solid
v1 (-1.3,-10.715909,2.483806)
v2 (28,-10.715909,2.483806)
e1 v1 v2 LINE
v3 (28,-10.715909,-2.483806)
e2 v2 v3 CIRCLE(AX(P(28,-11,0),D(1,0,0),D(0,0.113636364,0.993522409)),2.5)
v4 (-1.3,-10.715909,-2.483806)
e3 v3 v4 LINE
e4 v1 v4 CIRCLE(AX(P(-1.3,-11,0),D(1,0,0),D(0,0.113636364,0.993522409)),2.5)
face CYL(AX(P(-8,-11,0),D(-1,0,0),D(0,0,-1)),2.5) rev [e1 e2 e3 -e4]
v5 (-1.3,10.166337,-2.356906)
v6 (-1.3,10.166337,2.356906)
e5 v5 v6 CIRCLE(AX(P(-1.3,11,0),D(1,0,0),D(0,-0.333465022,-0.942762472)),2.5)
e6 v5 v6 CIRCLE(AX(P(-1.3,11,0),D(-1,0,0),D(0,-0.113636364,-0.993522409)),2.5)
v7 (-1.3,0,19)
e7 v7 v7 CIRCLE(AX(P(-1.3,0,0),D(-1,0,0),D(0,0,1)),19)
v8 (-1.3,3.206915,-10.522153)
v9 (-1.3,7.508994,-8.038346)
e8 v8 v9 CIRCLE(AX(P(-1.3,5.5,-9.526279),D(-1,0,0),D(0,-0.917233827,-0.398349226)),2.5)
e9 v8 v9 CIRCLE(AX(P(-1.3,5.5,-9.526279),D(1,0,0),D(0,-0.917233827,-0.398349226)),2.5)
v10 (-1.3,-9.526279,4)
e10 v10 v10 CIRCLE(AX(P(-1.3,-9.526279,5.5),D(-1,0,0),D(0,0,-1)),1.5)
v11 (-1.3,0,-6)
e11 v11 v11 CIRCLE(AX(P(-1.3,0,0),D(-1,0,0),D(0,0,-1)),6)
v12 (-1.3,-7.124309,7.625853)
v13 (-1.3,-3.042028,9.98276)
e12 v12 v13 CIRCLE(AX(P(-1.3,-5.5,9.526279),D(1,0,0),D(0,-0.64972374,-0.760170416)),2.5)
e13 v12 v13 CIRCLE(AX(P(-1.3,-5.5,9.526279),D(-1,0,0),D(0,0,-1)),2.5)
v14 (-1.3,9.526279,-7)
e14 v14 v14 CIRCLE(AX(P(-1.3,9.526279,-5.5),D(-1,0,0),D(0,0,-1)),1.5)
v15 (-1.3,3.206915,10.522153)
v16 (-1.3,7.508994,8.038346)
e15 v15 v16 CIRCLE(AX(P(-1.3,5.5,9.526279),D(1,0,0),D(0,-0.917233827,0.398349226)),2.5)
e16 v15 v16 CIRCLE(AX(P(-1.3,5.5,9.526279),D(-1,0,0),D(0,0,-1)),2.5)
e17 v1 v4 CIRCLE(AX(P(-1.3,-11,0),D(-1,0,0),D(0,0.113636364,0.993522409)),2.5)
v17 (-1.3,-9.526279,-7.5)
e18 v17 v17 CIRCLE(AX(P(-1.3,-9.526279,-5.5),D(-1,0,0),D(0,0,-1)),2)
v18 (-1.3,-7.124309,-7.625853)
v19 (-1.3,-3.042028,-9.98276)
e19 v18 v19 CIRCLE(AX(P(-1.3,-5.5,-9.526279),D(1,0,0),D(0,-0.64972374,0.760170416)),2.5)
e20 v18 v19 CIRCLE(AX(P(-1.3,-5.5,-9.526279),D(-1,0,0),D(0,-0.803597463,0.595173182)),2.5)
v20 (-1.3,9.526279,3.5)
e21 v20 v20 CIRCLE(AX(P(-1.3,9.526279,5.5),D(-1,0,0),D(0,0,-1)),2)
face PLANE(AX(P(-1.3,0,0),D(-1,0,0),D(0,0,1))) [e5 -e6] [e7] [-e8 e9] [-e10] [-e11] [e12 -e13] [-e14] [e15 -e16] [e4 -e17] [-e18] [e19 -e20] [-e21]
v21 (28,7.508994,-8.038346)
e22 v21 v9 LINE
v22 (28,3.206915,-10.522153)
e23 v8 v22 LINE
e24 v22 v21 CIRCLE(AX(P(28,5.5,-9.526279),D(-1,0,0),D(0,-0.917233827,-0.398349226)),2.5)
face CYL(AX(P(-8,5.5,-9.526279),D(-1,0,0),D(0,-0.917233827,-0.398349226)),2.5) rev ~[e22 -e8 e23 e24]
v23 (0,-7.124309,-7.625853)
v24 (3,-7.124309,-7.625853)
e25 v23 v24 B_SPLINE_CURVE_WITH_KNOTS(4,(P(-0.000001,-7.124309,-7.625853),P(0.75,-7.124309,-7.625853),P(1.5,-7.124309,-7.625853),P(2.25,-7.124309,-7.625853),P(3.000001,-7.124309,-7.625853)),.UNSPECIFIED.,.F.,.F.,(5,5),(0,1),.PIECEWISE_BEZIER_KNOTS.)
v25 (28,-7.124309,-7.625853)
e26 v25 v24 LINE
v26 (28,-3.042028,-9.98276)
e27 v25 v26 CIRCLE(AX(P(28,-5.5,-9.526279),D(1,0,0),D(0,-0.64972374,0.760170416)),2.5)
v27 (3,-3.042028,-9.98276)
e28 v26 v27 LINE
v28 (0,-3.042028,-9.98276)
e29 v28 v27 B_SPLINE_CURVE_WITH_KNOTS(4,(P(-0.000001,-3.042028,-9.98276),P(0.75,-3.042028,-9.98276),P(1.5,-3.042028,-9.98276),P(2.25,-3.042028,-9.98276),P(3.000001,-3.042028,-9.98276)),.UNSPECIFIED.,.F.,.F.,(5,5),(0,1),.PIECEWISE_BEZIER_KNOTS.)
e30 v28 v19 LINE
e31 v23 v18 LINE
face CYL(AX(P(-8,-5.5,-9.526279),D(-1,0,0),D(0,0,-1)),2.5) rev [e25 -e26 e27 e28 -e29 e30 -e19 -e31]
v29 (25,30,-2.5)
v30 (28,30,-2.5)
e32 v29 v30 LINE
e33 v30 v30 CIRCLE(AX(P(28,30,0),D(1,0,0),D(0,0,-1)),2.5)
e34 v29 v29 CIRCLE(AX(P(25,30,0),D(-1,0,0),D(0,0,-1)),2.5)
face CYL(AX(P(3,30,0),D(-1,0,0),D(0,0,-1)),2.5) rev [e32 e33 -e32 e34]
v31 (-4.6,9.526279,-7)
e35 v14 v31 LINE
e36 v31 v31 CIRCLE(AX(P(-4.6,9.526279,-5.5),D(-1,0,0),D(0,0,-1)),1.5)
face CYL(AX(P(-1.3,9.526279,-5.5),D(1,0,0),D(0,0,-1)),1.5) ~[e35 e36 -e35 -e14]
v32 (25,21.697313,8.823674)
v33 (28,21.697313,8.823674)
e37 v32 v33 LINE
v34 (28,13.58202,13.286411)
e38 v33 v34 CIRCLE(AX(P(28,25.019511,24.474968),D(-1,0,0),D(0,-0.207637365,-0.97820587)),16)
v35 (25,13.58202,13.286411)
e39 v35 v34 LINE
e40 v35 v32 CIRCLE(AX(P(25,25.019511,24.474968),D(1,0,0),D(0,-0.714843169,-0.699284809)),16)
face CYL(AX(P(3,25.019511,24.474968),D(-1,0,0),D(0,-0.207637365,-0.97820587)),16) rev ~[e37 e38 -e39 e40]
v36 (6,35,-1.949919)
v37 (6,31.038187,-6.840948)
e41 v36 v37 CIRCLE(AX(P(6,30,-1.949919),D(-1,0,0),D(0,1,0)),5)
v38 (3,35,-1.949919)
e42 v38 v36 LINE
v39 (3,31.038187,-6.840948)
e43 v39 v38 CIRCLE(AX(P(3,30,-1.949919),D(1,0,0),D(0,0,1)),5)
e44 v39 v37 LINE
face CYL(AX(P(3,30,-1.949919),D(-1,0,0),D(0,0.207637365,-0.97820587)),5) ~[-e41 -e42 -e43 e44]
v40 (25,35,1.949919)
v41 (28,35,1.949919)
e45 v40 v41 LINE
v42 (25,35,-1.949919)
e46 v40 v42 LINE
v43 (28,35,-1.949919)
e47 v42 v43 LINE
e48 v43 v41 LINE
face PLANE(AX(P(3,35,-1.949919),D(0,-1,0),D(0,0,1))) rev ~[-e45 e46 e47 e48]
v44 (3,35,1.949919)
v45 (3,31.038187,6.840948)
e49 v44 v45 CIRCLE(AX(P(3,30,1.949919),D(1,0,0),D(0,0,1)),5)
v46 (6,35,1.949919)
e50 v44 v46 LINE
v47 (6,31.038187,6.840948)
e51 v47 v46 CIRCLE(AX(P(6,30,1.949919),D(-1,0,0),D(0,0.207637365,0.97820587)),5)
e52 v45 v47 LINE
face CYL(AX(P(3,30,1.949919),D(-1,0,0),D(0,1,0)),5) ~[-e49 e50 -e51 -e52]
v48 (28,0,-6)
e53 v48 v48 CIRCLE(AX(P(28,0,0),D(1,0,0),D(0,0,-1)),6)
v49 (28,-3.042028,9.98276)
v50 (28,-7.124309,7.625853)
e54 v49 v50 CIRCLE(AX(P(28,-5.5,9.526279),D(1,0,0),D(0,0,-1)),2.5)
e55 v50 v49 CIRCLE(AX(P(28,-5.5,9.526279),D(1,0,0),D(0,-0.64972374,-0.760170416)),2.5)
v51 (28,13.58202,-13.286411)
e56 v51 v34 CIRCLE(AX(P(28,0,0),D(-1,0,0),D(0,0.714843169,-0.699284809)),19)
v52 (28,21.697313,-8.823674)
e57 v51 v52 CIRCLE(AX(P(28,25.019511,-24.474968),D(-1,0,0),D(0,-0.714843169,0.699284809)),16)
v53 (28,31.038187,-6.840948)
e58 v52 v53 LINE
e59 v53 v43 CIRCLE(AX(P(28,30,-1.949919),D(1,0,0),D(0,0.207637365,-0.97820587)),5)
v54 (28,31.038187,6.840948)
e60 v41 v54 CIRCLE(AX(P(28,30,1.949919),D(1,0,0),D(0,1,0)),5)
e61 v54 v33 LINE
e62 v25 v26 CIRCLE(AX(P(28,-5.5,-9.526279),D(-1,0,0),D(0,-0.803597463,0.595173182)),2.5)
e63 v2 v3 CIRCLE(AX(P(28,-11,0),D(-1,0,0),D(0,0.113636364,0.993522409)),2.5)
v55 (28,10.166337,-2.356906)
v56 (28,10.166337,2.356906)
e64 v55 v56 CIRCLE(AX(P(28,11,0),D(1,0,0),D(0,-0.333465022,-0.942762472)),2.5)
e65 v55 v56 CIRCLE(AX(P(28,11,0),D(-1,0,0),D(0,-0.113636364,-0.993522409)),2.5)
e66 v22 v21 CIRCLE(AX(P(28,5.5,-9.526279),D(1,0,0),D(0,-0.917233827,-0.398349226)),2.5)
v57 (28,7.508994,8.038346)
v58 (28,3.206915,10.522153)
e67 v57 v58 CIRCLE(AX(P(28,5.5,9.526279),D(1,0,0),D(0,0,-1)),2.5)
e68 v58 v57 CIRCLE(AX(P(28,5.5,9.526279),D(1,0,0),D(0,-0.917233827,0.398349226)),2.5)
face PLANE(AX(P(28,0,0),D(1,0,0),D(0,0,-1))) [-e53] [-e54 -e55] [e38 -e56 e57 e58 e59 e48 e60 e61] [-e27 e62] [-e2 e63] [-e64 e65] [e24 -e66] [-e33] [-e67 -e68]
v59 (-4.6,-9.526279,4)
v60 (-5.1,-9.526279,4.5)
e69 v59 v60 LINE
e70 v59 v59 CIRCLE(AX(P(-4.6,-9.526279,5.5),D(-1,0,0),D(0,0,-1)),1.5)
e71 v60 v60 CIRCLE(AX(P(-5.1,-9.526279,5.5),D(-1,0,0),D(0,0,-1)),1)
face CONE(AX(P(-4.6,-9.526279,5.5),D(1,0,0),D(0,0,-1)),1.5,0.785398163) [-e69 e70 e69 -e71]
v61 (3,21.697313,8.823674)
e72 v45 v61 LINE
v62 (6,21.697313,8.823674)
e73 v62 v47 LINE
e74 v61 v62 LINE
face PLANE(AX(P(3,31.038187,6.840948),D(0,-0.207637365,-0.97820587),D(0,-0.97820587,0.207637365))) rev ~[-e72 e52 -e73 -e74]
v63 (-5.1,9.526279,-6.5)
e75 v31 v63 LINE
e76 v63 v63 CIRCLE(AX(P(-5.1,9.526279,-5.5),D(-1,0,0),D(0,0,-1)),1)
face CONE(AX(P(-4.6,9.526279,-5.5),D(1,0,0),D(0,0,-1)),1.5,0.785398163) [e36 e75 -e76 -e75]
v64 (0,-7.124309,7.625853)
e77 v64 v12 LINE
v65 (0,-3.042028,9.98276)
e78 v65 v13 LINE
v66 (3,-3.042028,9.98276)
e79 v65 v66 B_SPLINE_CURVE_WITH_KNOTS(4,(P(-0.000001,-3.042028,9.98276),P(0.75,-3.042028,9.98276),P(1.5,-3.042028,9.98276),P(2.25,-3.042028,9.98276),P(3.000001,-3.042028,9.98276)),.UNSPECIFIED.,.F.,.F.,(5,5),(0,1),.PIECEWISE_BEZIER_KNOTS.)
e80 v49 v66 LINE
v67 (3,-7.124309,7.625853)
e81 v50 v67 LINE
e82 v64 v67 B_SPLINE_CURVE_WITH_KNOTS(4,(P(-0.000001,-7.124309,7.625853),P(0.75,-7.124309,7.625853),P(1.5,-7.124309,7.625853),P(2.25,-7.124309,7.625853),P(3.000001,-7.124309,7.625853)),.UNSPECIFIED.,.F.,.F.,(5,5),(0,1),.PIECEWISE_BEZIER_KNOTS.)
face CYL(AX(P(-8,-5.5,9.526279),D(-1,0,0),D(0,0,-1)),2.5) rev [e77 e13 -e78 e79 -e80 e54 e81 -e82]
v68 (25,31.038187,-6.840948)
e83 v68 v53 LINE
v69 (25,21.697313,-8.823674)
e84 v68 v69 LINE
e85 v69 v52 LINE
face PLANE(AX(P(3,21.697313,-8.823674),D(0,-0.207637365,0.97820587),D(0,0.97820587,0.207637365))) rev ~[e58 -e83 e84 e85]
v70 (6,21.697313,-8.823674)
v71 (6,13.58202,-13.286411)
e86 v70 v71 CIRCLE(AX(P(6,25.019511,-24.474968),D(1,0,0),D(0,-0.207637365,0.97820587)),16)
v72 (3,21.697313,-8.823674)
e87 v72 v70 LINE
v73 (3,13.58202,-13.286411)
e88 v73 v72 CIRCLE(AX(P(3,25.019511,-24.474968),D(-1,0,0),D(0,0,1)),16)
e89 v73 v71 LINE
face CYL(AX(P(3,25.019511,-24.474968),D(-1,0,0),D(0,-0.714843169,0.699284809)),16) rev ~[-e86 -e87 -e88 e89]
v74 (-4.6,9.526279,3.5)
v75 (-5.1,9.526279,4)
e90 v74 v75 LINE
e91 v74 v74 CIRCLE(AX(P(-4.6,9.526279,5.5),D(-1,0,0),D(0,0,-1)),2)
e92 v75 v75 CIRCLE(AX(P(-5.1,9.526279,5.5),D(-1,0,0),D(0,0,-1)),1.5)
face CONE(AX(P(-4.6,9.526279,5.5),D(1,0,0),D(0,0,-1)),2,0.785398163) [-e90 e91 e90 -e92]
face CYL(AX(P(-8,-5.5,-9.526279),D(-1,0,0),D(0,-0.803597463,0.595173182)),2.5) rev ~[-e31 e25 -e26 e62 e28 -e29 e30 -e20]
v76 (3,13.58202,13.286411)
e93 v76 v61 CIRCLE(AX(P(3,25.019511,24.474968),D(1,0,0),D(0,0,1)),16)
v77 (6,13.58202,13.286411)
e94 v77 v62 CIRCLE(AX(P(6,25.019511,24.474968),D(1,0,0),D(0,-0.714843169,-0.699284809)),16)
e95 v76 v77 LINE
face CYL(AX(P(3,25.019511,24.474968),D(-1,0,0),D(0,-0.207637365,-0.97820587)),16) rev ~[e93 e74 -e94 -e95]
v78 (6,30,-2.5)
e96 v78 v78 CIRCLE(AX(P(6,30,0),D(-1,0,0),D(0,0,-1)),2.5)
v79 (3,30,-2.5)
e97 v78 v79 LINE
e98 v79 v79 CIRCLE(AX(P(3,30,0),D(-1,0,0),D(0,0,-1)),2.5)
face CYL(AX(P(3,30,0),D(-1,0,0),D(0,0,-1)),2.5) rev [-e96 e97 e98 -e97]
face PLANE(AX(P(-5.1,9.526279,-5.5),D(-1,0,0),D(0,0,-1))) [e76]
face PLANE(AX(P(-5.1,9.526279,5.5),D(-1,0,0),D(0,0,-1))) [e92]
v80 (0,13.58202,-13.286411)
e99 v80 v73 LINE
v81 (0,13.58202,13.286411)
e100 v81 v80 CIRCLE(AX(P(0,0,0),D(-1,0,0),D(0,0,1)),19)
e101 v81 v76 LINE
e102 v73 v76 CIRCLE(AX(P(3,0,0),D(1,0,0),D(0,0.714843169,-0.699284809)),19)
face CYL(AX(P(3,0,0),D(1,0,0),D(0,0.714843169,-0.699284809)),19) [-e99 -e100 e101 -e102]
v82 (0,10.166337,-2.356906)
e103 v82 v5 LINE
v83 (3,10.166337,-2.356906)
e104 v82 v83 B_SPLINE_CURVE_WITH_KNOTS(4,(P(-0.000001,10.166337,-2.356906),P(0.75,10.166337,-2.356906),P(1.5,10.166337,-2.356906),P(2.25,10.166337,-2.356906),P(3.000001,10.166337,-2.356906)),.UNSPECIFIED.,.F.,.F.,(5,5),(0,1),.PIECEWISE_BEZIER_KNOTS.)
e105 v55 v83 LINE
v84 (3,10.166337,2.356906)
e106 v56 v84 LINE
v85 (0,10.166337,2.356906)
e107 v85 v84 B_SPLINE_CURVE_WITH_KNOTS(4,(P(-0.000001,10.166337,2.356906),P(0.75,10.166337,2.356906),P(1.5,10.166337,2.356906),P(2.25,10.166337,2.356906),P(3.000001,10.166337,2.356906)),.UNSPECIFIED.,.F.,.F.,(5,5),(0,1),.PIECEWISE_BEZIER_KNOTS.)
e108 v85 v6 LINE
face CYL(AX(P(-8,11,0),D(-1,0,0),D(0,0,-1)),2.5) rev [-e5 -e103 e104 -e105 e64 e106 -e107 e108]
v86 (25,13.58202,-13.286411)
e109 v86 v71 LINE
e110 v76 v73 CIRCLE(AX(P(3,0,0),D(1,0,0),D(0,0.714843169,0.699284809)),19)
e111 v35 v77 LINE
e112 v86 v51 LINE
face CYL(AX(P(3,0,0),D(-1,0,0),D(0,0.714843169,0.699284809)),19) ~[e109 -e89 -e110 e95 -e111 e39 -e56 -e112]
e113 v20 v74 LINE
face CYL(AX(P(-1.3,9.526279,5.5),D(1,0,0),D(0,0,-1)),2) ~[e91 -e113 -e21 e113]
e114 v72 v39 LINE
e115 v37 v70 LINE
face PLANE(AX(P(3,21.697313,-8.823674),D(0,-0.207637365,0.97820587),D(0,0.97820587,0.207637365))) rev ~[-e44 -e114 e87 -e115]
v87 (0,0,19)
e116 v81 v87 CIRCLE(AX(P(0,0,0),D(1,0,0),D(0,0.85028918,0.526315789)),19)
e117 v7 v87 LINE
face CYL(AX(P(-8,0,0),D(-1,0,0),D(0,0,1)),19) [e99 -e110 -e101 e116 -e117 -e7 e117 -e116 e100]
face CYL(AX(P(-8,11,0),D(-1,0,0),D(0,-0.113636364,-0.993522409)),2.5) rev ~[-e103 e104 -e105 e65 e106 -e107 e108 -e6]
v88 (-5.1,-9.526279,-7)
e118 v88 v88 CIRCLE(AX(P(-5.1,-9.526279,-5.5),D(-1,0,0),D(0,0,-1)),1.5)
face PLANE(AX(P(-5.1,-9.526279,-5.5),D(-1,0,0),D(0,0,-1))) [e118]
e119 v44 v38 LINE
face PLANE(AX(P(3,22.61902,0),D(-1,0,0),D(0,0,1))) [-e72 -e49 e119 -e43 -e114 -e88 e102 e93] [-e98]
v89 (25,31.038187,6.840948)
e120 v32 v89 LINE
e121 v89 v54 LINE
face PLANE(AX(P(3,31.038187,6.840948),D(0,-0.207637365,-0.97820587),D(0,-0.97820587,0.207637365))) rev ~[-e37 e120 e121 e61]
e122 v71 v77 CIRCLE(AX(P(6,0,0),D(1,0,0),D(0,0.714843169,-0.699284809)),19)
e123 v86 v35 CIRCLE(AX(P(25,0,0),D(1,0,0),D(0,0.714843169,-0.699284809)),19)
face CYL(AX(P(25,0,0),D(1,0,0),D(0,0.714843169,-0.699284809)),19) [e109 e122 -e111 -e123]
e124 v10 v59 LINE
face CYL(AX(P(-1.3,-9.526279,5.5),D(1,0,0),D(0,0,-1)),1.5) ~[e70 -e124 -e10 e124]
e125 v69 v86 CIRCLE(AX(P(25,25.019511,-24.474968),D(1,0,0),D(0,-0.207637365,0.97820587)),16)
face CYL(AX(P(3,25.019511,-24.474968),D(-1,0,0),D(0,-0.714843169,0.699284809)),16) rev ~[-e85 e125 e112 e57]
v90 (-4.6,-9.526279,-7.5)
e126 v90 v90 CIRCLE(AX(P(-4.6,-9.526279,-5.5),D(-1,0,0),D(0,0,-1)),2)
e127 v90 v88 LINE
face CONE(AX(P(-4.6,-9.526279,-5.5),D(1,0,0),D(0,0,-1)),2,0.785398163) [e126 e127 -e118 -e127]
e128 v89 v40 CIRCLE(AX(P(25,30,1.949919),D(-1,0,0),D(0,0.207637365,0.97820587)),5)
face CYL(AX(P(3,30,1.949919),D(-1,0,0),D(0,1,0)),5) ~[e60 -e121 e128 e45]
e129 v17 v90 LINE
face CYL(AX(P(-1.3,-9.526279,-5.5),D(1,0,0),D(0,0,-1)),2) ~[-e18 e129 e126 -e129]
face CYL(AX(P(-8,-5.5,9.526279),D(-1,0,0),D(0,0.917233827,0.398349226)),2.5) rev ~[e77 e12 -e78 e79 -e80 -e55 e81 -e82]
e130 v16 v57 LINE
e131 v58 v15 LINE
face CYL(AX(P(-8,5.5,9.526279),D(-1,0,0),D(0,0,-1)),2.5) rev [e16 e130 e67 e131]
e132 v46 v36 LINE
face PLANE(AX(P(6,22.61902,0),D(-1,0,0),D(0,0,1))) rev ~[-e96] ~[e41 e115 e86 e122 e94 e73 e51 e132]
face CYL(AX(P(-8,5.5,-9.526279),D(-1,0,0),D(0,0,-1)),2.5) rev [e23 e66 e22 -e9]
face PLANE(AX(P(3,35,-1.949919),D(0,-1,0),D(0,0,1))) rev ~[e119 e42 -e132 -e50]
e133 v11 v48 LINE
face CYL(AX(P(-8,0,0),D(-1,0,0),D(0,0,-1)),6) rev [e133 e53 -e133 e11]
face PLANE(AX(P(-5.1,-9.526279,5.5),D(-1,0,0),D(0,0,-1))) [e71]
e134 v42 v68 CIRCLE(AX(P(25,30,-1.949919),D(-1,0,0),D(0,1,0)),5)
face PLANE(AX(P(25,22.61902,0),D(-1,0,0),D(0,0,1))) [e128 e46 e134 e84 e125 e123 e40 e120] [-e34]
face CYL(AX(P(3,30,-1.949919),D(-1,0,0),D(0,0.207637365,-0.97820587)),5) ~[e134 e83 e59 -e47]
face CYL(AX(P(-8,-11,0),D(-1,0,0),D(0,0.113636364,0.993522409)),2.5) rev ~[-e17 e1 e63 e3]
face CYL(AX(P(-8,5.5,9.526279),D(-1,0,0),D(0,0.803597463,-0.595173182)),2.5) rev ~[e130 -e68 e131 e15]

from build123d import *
from build123d.topology import SkipClean

# Parameters (mm, degrees)
SKETCH_1_R          = 19
SKETCH_1_R_2        = 2
SKETCH_1_R_3        = 11
EXTRUDE_1_DEPTH     = 3
EXTRUDE_START       = -3
EXTRUDE_2_DEPTH     = 3
FILLET_1_R          = 3
SKETCH_5_R          = 2.5
EXTRUDE_3_DEPTH     = 3
FILLET_2_R          = 16
FILLET_3_R          = 5
EXTRUDE_START_2     = 8
SKETCH_8_R          = 19
SKETCH_8_R_2        = 2
EXTRUDE_5_DEPTH     = 8
SKETCH_9_R          = 2
SKETCH_9_R_2        = 2.5
EXTRUDE_6_DEPTH     = 25
CUT_EXTRUDE_START   = -19
CUT_EXTRUDE_1_DEPTH = 19
EXTRUDE_START_3     = -36
SKETCH_12_R         = 19
SKETCH_12_R_2       = 11
EXTRUDE_7_DEPTH     = 36
SKETCH_13_R         = 6
EXTRUDE_8_DEPTH     = 36
CUT_EXTRUDE_START_2 = -36
SKETCH_14_R         = 2.5
CUT_EXTRUDE_2_DEPTH = 36
SKETCH_15_R         = 28.71288773
CUT_EXTRUDE_3_DEPTH = 6.7
SKETCH_17_R         = 2
SKETCH_17_R_2       = 1.5
EXTRUDE_9_DEPTH     = 3.8
CHAMFER_2_SIZE      = 0.5
CUT_EXTRUDE_START_3 = -3
CUT_EXTRUDE_4_DEPTH = 3


with BuildPart() as part:
    # 草图1 → 凸台-拉伸1 (new body)
    with BuildSketch(Plane(origin=(0, 0, 0), x_dir=(0, 0, -1), z_dir=(1, 0, 0))):
        Circle(SKETCH_1_R)
        with Locations((0, -15)):
            Circle(SKETCH_1_R_2, mode=Mode.SUBTRACT)
        with Locations((0, 13.5)):
            Circle(SKETCH_1_R_2, mode=Mode.SUBTRACT)
        with Locations((11.691342951, -6.75)):
            Circle(SKETCH_1_R_2, mode=Mode.SUBTRACT)
        with Locations((-12.990381057, 7.5)):
            Circle(SKETCH_1_R_2, mode=Mode.SUBTRACT)
        with Locations((-11.691342951, -6.75)):
            Circle(SKETCH_1_R_2, mode=Mode.SUBTRACT)
        with Locations((12.990381057, 7.5)):
            Circle(SKETCH_1_R_2, mode=Mode.SUBTRACT)
        Circle(SKETCH_1_R_3, mode=Mode.SUBTRACT)
    extrude(amount=EXTRUDE_1_DEPTH)

    # 草图3 → 凸台-拉伸2 (add)
    with BuildSketch(Plane(origin=(3, 0, 0), x_dir=(0, 0, -1), z_dir=(1, 0, 0)).offset(EXTRUDE_START)):
        with BuildLine():
            ThreePointArc((-2.795361016, 10.638888889), (0, 9.5), (2.795361016, 10.638888889))
            ThreePointArc((2.795361016, 10.638888889), (0, 11), (-2.795361016, 10.638888889))
        make_face()
        with BuildLine():
            ThreePointArc((10.611228554, -2.898590792), (8.227241336, -4.75), (7.815867538, -7.740298097))
            ThreePointArc((7.815867538, -7.740298097), (9.526279442, -5.5), (10.611228554, -2.898590792))
        make_face()
        with BuildLine():
            ThreePointArc((-7.815867538, -7.740298097), (-8.227241336, -4.75), (-10.611228554, -2.898590792))
            ThreePointArc((-10.611228554, -2.898590792), (-9.526279442, -5.5), (-7.815867538, -7.740298097))
        make_face()
    extrude(amount=EXTRUDE_2_DEPTH)

    # 圆角1
    fillet_1_edges = [part.edges().sort_by_distance(p)[0] for p in [
        (1.5, 10.638888889, 2.795361016),
        (1.5, 10.638888889, -2.795361016),
        (1.5, -2.898590792, -10.611228554),
        (1.5, -7.740298097, -7.815867538),
        (1.5, -7.740298097, 7.815867538),
        (1.5, -2.898590792, 10.611228554),
    ]]
    fillet(fillet_1_edges, radius=FILLET_1_R)

    # 草图5 → 凸台-拉伸3 (add)
    with BuildSketch(Plane(origin=(3, 0, 0), x_dir=(0, 0, -1), z_dir=(1, 0, 0)).offset(EXTRUDE_START)):
        with BuildLine():
            Line((-6, 35), (-10, 16.155494421))
            ThreePointArc((-10, 16.155494421), (0, 19), (10, 16.155494421))
            Line((10, 16.155494421), (6, 35))
            Line((6, 35), (-6, 35))
        make_face()
        with Locations((0, 30)):
            Circle(SKETCH_5_R, mode=Mode.SUBTRACT)
    extrude(amount=EXTRUDE_3_DEPTH)

    # 圆角2
    fillet_2_edges = [part.edges().sort_by_distance(p)[0] for p in [
        (1.5, 16.155494421, 10),
        (1.5, 16.155494421, -10),
    ]]
    fillet(fillet_2_edges, radius=FILLET_2_R)

    # 圆角3
    fillet_3_edges = [part.edges().sort_by_distance(p)[0] for p in [
        (1.5, 35, -6),
        (1.5, 35, 6),
    ]]
    fillet(fillet_3_edges, radius=FILLET_3_R)

    # 草图8 → 凸台-拉伸5 (add)
    with BuildSketch(Plane.ZY.offset(EXTRUDE_START_2)):
        Circle(SKETCH_8_R)
        with Locations((0, -15)):
            Circle(SKETCH_8_R_2, mode=Mode.SUBTRACT)
        with Locations((-11.691342951, -6.75)):
            Circle(SKETCH_8_R_2, mode=Mode.SUBTRACT)
        with Locations((11.691342951, -6.75)):
            Circle(SKETCH_8_R_2, mode=Mode.SUBTRACT)
        with Locations((12.990381057, 7.5)):
            Circle(SKETCH_8_R_2, mode=Mode.SUBTRACT)
        with Locations((0, 13.5)):
            Circle(SKETCH_8_R_2, mode=Mode.SUBTRACT)
        with Locations((-12.990381057, 7.5)):
            Circle(SKETCH_8_R_2, mode=Mode.SUBTRACT)
        with BuildLine():
            ThreePointArc((9.557371648, -3.366781639), (10.505068504, -2.412656367), (10.940728111, -1.140380819))
            ThreePointArc((10.940728111, -1.140380819), (9.526279442, 5.5), (4.482765296, 10.045138889))
            ThreePointArc((4.482765296, 10.045138889), (3.163112547, 10.303984377), (1.862967396, 9.96031746))
            ThreePointArc((1.862967396, 9.96031746), (0, 9.5), (-1.862967396, 9.96031746))
            ThreePointArc((-1.862967396, 9.96031746), (-3.163112547, 10.303984377), (-4.482765296, 10.045138889))
            ThreePointArc((-4.482765296, 10.045138889), (-9.526279442, 5.5), (-10.940728111, -1.140380819))
            ThreePointArc((-10.940728111, -1.140380819), (-10.505068504, -2.412656367), (-9.557371648, -3.366781639))
            ThreePointArc((-9.557371648, -3.366781639), (-8.227241336, -4.75), (-7.694404252, -6.593535821))
            ThreePointArc((-7.694404252, -6.593535821), (-7.341955957, -7.89132801), (-6.457962814, -8.90475807))
            ThreePointArc((-6.457962814, -8.90475807), (0, -11), (6.457962814, -8.90475807))
            ThreePointArc((6.457962814, -8.90475807), (7.341955957, -7.89132801), (7.694404252, -6.593535821))
            ThreePointArc((7.694404252, -6.593535821), (8.227241336, -4.75), (9.557371648, -3.366781639))
        make_face(mode=Mode.SUBTRACT)
    extrude(amount=-EXTRUDE_5_DEPTH)

    # 草图9 → 凸台-拉伸6 (add)
    with BuildSketch(Plane(origin=(3, 0, 0), x_dir=(0, 0, -1), z_dir=(1, 0, 0))):
        with BuildLine():
            Line((8.823674386, 21.697313072), (6.840948182, 31.038186825))
            ThreePointArc((6.840948182, 31.038186825), (5.097065624, 33.885288543), (1.94991883, 35))
            Line((1.94991883, 35), (-1.94991883, 35))
            ThreePointArc((-1.94991883, 35), (-5.097065624, 33.885288543), (-6.840948182, 31.038186825))
            Line((-6.840948182, 31.038186825), (-8.823674386, 21.697313072))
            ThreePointArc((-8.823674386, 21.697313072), (-10.455022048, 17.309705025), (-13.286411369, 13.582020209))
            ThreePointArc((-13.286411369, 13.582020209), (0, -19), (13.286411369, 13.582020209))
            ThreePointArc((13.286411369, 13.582020209), (10.455022048, 17.309705025), (8.823674386, 21.697313072))
        make_face()
        with Locations(Location((0, -15, 0), (0, 0, 180))):
            Circle(SKETCH_9_R, mode=Mode.SUBTRACT)
        with Locations(Location((11.691342951, -6.75, 0), (0, 0, 180))):
            Circle(SKETCH_9_R, mode=Mode.SUBTRACT)
        with Locations(Location((-11.691342951, -6.75, 0), (0, 0, 180))):
            Circle(SKETCH_9_R, mode=Mode.SUBTRACT)
        with Locations(Location((12.990381057, 7.5, 0), (0, 0, 180))):
            Circle(SKETCH_9_R, mode=Mode.SUBTRACT)
        with Locations(Location((-12.990381057, 7.5, 0), (0, 0, 180))):
            Circle(SKETCH_9_R, mode=Mode.SUBTRACT)
        with Locations(Location((0, 13.5, 0), (0, 0, 180))):
            Circle(SKETCH_9_R, mode=Mode.SUBTRACT)
        with Locations((0, 30)):
            Circle(SKETCH_9_R_2, mode=Mode.SUBTRACT)
        with BuildLine():
            ThreePointArc((6.457962814, -8.90475807), (7.341955957, -7.89132801), (7.694404252, -6.593535821))
            ThreePointArc((7.694404252, -6.593535821), (8.227241336, -4.75), (9.557371648, -3.366781639))
            ThreePointArc((9.557371648, -3.366781639), (10.505068504, -2.412656367), (10.940728111, -1.140380819))
            ThreePointArc((10.940728111, -1.140380819), (9.526279442, 5.5), (4.482765296, 10.045138889))
            ThreePointArc((4.482765296, 10.045138889), (3.163112547, 10.303984377), (1.862967396, 9.96031746))
            ThreePointArc((1.862967396, 9.96031746), (0, 9.5), (-1.862967396, 9.96031746))
            ThreePointArc((-1.862967396, 9.96031746), (-3.163112547, 10.303984377), (-4.482765296, 10.045138889))
            ThreePointArc((-4.482765296, 10.045138889), (-9.526279442, 5.5), (-10.940728111, -1.140380819))
            ThreePointArc((-10.940728111, -1.140380819), (-10.505068504, -2.412656367), (-9.557371648, -3.366781639))
            ThreePointArc((-9.557371648, -3.366781639), (-8.227241336, -4.75), (-7.694404252, -6.593535821))
            ThreePointArc((-7.694404252, -6.593535821), (-7.341955957, -7.89132801), (-6.457962814, -8.90475807))
            ThreePointArc((-6.457962814, -8.90475807), (0, -11), (6.457962814, -8.90475807))
        make_face(mode=Mode.SUBTRACT)
    extrude(amount=EXTRUDE_6_DEPTH)

    # 草图11 → 切除-拉伸1 (cut)
    with BuildSketch(Plane.ZY.offset(-6).offset(CUT_EXTRUDE_START)):
        with BuildLine():
            Line((-6.840948182, 31.038186825), (-8.823674386, 21.697313072))
            ThreePointArc((-8.823674386, 21.697313072), (-10.455022048, 17.309705025), (-13.286411369, 13.582020209))
            ThreePointArc((-13.286411369, 13.582020209), (0, 19), (13.286411369, 13.582020209))
            ThreePointArc((13.286411369, 13.582020209), (10.455022048, 17.309705025), (8.823674386, 21.697313072))
            Line((8.823674386, 21.697313072), (6.840948182, 31.038186825))
            ThreePointArc((6.840948182, 31.038186825), (5.097065624, 33.885288543), (1.94991883, 35))
            Line((1.94991883, 35), (-1.94991883, 35))
            ThreePointArc((-1.94991883, 35), (-5.097065624, 33.885288543), (-6.840948182, 31.038186825))
        make_face()
    extrude(amount=CUT_EXTRUDE_1_DEPTH, mode=Mode.SUBTRACT)

    # 草图12 → 凸台-拉伸7 (add)
    with BuildSketch(Plane(origin=(28, 0, 0), x_dir=(0, 0, -1), z_dir=(1, 0, 0)).offset(EXTRUDE_START_3)):
        with Locations(Location((0, 0, 0), (0, 0, 180))):
            Circle(SKETCH_12_R)
        Circle(SKETCH_12_R_2, mode=Mode.SUBTRACT)
    extrude(amount=EXTRUDE_7_DEPTH)

    # 草图13 → 凸台-拉伸8 (add)
    with BuildSketch(Plane(origin=(28, 0, 0), x_dir=(0, 0, -1), z_dir=(1, 0, 0)).offset(EXTRUDE_START_3)):
        with BuildLine():
            ThreePointArc((-10.522152508, 3.206915432), (-11, 0), (-10.522152508, -3.206915432))
            ThreePointArc((-10.522152508, -3.206915432), (-7.361215932, -4.25), (-8.038346486, -7.508993659))
            ThreePointArc((-8.038346486, -7.508993659), (-5.5, -9.526279442), (-2.483806022, -10.715909091))
            ThreePointArc((-2.483806022, -10.715909091), (0, -8.5), (2.483806022, -10.715909091))
            ThreePointArc((2.483806022, -10.715909091), (5.5, -9.526279442), (8.038346486, -7.508993659))
            ThreePointArc((8.038346486, -7.508993659), (7.361215932, -4.25), (10.522152508, -3.206915432))
            ThreePointArc((10.522152508, -3.206915432), (11, 0), (10.522152508, 3.206915432))
            ThreePointArc((10.522152508, 3.206915432), (7.361215932, 4.25), (8.038346486, 7.508993659))
            ThreePointArc((8.038346486, 7.508993659), (5.5, 9.526279442), (2.483806022, 10.715909091))
            ThreePointArc((2.483806022, 10.715909091), (0, 8.5), (-2.483806022, 10.715909091))
            ThreePointArc((-2.483806022, 10.715909091), (-5.5, 9.526279442), (-8.038346486, 7.508993659))
            ThreePointArc((-8.038346486, 7.508993659), (-7.361215932, 4.25), (-10.522152508, 3.206915432))
        make_face()
        Circle(SKETCH_13_R, mode=Mode.SUBTRACT)
    extrude(amount=EXTRUDE_8_DEPTH)

    # 草图14 → 切除-拉伸2 (cut)
    with SkipClean():  # the faces are left unmerged after this step: merging them gives an invalid solid
        with BuildSketch(Plane(origin=(28, 0, 0), x_dir=(0, 0, -1), z_dir=(1, 0, 0)).offset(CUT_EXTRUDE_START_2)):
            with Locations((0, 11)):
                Circle(SKETCH_14_R)
            with Locations((-9.526279442, 5.5)):
                Circle(SKETCH_14_R)
            with Locations((-9.526279442, -5.5)):
                Circle(SKETCH_14_R)
            with Locations((0, -11)):
                Circle(SKETCH_14_R)
            with Locations((9.526279442, -5.5)):
                Circle(SKETCH_14_R)
            with Locations((9.526279442, 5.5)):
                Circle(SKETCH_14_R)
        extrude(amount=CUT_EXTRUDE_2_DEPTH, mode=Mode.SUBTRACT)

    # 草图15 → 切除-拉伸3 (cut)
    with SkipClean():  # the faces are left unmerged after this step: merging them gives an invalid solid
        with BuildSketch(Plane.ZY.offset(8)):
            Circle(SKETCH_15_R)
        extrude(amount=-CUT_EXTRUDE_3_DEPTH, mode=Mode.SUBTRACT)

    # 草图17 → 凸台-拉伸9 (add)
    with SkipClean():  # the faces are left unmerged after this step: merging them gives an invalid solid
        with BuildSketch(Plane.ZY.offset(1.3)):
            with Locations(Location((-5.5, -9.526279442, 0), (0, 0, 180))):
                Circle(SKETCH_17_R)
            with Locations(Location((-5.5, 9.526279442, 0), (0, 0, 180))):
                Circle(SKETCH_17_R_2)
            with Locations(Location((5.5, 9.526279442, 0), (0, 0, 180))):
                Circle(SKETCH_17_R)
            with Locations(Location((5.5, -9.526279442, 0), (0, 0, 180))):
                Circle(SKETCH_17_R_2)
        extrude(amount=EXTRUDE_9_DEPTH)

    # 倒角2
    chamfer_2_edges = [part.edges().sort_by_distance(p)[0] for p in [
        (-5.1, -9.526279442, -3.5),
        (-5.1, 9.526279442, -4),
        (-5.1, 9.526279442, 7.5),
        (-5.1, -9.526279442, 7),
    ]]
    chamfer(chamfer_2_edges, length=CHAMFER_2_SIZE)

    # 草图19 → 切除-拉伸4 (cut)
    with SkipClean():  # the faces are left unmerged after this step: merging them gives an invalid solid
        with BuildSketch(Plane.ZY.offset(CUT_EXTRUDE_START_3)):
            with BuildLine():
                Line((8.823674386, 21.697313072), (6.840948182, 31.038186825))
                ThreePointArc((6.840948182, 31.038186825), (5.097065624, 33.885288543), (1.94991883, 35))
                Line((1.94991883, 35), (-1.94991883, 35))
                ThreePointArc((-1.94991883, 35), (-5.097065624, 33.885288543), (-6.840948182, 31.038186825))
                Line((-6.840948182, 31.038186825), (-8.823674386, 21.697313072))
                ThreePointArc((-8.823674386, 21.697313072), (-10.455022048, 17.309705025), (-13.286411369, 13.582020209))
                ThreePointArc((-13.286411369, 13.582020209), (0, 19), (13.286411369, 13.582020209))
                ThreePointArc((13.286411369, 13.582020209), (10.455022048, 17.309705025), (8.823674386, 21.697313072))
            make_face()
        extrude(amount=CUT_EXTRUDE_4_DEPTH, mode=Mode.SUBTRACT)


solid = part.part
